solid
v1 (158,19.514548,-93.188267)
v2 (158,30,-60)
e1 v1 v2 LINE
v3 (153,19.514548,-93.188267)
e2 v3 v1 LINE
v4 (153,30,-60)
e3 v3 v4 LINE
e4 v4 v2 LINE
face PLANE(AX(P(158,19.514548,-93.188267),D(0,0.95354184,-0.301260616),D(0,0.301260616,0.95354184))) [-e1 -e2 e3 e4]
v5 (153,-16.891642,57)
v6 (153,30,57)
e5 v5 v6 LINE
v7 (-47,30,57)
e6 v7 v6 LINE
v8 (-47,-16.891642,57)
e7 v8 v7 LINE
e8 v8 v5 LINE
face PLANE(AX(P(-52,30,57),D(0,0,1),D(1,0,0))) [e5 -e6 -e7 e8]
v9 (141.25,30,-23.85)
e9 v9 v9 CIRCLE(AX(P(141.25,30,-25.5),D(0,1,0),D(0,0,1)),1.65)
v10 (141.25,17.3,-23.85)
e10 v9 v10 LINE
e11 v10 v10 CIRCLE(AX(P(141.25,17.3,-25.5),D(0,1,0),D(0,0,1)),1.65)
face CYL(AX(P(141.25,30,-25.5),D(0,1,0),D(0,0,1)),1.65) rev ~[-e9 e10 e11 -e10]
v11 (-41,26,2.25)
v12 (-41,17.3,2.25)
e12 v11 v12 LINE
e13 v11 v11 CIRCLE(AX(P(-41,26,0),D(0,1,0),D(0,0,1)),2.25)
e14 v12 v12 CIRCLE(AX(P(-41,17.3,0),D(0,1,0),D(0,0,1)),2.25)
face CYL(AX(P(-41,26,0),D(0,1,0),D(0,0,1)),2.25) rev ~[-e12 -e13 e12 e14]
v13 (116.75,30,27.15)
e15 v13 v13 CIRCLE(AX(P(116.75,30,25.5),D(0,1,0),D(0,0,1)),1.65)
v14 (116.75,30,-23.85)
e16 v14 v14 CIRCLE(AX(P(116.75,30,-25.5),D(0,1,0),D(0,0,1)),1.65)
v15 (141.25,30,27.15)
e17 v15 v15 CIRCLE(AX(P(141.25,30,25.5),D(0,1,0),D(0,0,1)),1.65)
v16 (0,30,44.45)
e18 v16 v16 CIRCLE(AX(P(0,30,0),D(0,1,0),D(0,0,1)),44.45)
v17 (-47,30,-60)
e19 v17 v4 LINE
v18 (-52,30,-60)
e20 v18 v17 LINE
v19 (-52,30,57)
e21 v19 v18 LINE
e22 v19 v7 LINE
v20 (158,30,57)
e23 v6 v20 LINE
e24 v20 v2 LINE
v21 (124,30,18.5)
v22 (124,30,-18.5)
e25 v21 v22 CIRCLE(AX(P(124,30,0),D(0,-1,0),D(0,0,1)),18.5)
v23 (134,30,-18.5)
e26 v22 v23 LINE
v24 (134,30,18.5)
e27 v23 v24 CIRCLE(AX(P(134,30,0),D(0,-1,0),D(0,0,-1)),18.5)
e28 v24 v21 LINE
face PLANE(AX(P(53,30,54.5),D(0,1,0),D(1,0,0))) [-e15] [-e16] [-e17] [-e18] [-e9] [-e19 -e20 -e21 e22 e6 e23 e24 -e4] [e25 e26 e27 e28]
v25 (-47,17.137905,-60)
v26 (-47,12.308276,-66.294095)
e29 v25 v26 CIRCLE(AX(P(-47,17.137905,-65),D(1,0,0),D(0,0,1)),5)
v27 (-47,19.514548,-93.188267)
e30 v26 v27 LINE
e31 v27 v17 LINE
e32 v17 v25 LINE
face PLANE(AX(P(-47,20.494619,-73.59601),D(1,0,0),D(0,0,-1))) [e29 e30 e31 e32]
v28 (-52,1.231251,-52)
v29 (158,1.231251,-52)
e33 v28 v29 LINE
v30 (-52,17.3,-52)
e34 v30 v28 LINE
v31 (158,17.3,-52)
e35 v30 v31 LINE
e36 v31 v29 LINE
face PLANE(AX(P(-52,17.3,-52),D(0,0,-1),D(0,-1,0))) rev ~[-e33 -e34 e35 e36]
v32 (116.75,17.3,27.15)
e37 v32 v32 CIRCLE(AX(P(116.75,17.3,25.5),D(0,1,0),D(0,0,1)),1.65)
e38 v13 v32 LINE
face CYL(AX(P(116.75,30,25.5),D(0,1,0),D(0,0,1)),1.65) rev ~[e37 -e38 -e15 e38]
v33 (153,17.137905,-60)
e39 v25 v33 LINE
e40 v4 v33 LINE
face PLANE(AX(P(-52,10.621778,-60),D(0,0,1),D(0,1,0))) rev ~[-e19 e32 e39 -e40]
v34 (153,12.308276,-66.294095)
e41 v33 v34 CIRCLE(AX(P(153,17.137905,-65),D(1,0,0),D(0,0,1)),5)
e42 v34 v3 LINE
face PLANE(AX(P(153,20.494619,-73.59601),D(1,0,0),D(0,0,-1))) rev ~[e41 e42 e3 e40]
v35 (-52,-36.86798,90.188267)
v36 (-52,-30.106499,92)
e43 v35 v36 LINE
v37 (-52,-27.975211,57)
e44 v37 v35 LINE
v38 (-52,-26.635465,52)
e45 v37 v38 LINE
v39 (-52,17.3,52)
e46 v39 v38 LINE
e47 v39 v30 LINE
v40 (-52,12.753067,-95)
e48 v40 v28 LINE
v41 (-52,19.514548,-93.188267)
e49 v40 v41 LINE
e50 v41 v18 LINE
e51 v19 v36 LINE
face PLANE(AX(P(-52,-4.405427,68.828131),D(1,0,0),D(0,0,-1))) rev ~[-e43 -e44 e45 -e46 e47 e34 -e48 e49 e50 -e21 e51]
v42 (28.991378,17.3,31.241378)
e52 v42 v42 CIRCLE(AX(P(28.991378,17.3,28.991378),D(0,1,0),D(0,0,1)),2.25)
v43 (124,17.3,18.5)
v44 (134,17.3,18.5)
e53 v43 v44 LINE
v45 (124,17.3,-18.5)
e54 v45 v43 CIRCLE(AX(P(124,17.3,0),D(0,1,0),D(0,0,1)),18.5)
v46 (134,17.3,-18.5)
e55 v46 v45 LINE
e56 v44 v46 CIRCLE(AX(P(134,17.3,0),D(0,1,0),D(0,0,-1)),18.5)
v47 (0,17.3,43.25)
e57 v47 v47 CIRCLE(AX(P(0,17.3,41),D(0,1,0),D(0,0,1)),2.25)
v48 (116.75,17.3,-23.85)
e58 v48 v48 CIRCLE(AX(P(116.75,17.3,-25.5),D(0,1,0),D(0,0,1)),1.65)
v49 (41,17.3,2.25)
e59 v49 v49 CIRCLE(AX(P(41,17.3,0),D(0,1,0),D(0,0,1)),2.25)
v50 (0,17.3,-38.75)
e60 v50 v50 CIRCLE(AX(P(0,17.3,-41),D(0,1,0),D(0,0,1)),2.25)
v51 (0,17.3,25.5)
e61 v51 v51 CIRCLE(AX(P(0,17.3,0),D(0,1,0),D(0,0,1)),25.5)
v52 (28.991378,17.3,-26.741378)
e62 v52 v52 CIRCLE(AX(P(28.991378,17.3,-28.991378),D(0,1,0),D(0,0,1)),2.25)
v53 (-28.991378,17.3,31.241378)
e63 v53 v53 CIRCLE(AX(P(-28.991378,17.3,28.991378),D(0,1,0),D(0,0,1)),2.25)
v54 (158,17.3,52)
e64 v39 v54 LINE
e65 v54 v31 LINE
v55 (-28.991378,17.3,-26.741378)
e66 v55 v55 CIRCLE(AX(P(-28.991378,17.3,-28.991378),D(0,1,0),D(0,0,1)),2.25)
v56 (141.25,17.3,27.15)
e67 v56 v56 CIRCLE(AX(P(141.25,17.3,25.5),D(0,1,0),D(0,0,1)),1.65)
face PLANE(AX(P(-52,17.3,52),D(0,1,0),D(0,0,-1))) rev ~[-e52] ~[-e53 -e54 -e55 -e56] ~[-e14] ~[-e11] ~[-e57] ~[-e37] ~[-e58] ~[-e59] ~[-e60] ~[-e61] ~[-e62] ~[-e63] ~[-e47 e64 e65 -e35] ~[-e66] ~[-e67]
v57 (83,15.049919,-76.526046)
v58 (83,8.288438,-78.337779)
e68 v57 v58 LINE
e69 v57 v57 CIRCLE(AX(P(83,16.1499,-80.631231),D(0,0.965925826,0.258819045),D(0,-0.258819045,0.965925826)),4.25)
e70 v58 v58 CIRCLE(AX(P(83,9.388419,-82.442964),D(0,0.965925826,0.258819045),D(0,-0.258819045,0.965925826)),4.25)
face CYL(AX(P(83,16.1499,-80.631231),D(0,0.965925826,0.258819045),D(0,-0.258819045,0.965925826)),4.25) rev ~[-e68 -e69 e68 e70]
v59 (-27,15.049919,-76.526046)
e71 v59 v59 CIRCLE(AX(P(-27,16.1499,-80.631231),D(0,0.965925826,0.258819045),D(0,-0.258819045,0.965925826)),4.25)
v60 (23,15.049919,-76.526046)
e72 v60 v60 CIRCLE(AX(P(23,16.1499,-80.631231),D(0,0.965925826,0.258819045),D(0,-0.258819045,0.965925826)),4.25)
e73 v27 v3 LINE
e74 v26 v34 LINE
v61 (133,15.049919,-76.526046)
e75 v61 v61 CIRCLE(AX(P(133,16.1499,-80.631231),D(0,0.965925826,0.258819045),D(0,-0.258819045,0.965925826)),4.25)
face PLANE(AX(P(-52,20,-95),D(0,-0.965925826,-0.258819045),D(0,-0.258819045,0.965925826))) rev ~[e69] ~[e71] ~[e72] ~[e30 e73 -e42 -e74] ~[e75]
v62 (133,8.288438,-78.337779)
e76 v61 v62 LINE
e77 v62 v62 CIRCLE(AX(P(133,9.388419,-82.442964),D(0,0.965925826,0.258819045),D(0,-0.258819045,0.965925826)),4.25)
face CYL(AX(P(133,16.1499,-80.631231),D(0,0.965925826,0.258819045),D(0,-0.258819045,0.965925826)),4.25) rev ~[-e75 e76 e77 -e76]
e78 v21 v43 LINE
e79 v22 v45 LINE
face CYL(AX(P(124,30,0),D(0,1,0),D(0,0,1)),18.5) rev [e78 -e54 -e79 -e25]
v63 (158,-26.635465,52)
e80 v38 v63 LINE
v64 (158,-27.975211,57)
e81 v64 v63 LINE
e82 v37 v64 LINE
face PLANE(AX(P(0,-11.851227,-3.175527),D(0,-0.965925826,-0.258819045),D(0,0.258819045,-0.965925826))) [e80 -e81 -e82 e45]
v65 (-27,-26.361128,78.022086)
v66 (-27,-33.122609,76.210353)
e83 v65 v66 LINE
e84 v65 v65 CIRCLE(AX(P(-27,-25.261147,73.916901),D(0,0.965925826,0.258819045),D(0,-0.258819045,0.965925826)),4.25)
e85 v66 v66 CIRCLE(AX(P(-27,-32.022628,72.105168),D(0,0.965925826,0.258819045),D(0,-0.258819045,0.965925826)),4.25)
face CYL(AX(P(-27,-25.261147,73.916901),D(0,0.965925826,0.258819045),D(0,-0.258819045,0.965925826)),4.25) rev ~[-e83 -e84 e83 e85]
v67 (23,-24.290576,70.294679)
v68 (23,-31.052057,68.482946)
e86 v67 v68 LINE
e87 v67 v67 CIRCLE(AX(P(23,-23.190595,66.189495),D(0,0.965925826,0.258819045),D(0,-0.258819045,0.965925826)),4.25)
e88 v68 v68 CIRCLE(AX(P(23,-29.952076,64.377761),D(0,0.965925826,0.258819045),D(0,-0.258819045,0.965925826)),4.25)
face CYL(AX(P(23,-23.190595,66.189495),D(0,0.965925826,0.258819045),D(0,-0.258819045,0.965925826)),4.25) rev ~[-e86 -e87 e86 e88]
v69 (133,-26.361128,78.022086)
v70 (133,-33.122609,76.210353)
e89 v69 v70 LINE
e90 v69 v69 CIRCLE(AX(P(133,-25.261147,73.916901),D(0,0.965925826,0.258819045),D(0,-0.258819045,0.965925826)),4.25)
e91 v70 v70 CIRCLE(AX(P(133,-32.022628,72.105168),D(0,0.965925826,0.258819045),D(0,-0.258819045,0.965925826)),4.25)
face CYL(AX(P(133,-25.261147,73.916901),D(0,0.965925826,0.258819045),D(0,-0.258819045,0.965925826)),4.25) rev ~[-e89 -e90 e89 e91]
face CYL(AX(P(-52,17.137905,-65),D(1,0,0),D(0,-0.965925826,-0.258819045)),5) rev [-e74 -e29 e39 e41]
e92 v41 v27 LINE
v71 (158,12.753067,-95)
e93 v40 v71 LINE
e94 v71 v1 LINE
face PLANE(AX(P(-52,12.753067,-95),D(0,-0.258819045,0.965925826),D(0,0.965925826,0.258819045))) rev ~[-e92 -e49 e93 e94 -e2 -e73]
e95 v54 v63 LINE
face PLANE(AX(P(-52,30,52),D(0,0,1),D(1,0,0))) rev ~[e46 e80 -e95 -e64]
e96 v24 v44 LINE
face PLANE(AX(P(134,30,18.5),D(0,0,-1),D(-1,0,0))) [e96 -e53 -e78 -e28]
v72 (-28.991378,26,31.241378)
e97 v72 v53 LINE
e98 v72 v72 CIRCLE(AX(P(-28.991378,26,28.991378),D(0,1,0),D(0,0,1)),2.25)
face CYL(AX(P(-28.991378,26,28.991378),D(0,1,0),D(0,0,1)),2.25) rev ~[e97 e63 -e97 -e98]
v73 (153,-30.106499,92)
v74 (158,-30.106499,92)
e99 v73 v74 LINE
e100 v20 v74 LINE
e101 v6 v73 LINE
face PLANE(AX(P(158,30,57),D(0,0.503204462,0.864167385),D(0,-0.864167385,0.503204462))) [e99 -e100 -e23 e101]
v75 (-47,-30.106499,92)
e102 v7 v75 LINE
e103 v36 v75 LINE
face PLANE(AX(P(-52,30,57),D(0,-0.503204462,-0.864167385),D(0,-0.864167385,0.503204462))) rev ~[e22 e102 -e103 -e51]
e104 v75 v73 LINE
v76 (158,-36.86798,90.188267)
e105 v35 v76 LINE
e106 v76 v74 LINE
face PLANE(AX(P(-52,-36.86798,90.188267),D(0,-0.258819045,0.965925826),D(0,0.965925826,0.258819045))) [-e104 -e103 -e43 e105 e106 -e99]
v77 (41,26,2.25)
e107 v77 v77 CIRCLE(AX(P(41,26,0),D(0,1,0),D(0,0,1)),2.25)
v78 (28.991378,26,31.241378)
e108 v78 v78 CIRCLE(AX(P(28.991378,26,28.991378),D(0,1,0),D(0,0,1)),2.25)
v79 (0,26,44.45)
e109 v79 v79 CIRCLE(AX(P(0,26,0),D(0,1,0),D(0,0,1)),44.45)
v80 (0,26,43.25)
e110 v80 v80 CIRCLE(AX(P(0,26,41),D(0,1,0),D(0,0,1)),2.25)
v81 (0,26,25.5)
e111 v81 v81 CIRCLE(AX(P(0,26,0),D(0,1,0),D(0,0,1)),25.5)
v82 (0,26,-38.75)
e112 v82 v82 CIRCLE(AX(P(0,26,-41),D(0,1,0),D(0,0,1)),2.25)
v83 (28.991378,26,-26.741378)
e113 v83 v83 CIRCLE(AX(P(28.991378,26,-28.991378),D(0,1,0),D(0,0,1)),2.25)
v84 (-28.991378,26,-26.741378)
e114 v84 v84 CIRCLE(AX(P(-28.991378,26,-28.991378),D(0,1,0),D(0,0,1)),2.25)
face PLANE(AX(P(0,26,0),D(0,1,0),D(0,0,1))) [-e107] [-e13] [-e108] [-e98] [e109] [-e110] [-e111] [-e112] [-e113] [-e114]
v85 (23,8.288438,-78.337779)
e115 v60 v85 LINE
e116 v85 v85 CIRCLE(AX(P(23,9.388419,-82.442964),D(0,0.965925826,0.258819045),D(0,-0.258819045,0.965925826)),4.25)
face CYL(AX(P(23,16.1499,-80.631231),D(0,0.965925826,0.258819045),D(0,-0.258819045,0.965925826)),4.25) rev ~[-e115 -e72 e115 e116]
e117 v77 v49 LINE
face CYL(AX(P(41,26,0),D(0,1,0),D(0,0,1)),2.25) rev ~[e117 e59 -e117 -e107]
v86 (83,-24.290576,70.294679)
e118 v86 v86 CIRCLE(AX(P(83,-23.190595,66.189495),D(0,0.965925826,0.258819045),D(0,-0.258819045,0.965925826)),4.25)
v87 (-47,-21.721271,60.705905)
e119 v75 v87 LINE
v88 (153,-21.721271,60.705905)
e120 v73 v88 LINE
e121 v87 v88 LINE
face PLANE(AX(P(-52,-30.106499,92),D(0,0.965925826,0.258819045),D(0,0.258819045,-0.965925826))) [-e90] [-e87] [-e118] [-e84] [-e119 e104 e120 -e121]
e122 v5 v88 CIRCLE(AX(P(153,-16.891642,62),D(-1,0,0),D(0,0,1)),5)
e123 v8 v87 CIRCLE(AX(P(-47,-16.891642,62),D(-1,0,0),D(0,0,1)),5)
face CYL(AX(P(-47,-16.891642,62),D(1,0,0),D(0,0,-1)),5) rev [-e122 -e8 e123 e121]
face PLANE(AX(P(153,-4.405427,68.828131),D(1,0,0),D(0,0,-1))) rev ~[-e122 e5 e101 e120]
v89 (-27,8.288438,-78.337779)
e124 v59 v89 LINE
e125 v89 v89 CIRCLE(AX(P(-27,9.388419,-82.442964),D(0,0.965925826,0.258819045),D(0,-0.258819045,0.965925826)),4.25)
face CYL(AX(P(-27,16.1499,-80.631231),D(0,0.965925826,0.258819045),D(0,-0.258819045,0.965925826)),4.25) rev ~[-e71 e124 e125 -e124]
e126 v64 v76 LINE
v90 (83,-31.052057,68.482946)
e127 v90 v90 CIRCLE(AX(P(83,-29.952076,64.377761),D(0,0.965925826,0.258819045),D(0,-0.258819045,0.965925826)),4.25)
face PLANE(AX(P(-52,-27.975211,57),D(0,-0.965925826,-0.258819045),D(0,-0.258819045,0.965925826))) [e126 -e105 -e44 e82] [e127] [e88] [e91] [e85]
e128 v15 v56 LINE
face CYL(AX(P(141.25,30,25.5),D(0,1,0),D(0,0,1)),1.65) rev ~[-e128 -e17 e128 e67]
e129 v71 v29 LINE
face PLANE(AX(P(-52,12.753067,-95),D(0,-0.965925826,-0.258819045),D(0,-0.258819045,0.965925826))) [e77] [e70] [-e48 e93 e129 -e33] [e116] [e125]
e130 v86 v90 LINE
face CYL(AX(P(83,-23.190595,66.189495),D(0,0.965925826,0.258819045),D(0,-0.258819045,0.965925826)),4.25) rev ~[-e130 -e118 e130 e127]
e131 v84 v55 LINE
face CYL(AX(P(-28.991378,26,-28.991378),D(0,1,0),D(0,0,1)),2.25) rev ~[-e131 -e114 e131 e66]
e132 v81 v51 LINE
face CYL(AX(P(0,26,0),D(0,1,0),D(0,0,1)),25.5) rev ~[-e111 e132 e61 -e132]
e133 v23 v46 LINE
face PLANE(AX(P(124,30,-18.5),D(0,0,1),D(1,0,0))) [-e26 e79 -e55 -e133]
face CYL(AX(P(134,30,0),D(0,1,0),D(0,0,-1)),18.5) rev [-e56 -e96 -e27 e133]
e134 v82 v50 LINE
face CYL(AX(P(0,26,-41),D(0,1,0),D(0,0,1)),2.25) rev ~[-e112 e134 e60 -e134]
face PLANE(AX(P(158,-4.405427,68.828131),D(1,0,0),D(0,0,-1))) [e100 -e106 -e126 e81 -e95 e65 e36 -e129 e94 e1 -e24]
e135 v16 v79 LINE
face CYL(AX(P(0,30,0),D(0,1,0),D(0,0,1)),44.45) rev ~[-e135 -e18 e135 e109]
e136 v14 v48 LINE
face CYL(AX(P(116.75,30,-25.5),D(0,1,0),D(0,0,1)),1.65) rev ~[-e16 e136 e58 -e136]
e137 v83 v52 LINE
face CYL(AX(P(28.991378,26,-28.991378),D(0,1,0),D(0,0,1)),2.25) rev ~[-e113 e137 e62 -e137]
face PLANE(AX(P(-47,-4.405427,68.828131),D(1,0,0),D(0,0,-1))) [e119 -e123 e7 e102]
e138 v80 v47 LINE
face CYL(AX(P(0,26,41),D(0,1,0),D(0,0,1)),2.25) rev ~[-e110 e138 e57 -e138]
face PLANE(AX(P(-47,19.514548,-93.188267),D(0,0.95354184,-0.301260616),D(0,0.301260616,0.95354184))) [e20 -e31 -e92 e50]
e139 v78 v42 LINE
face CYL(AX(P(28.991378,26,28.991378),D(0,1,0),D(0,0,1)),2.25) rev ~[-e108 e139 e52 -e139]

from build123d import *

# Parameters (mm, degrees)
EXTRUDE_1_DEPTH      = 30
SKETCH_2_R           = 44.45
CUT_EXTRUDE_1_DEPTH  = 4
SKETCH_3_R           = 25.5
SKETCH_3_R_2         = 2.25
CUT_EXTRUDE_2_DEPTH  = 188.619295383
CUT_EXTRUDE_3_DEPTH  = 189.215302247
SKETCH_5_R           = 1.65
CUT_EXTRUDE_4_DEPTH  = 189.215302247
EXTRUDE_START        = -30
EXTRUDE_2_DEPTH      = 30
CUT_EXTRUDE_5_DEPTH  = 198.040604952
CUT_EXTRUDE_7_DEPTH  = 233.432785983
CUT_EXTRUDE_8_DEPTH  = 233.432785983
CUT_EXTRUDE_9_DEPTH  = 233.432785983
FILLET_1_R           = 5
CUT_EXTRUDE_10_DEPTH = 233.432785983
EXTRUDE_START_2      = -5
EXTRUDE_3_DEPTH      = 5
EXTRUDE_4_DEPTH      = 5
SKETCH_14_R          = 4.25
CUT_EXTRUDE_11_DEPTH = 189.364728478
SKETCH_16_W          = 43
SKETCH_16_H          = 30
CUT_EXTRUDE_12_DEPTH = 233.432785983
EXTRUDE_7_REACH      = 188.592
SKETCH_18_W          = 210
SKETCH_18_H          = 5
EXTRUDE_8_DEPTH      = 210
EXTRUDE_9_DEPTH      = 5
EXTRUDE_10_DEPTH     = 5
SKETCH_22_R          = 4.25
CUT_EXTRUDE_13_DEPTH = 187.984035343
FILLET_2_R           = 5


with BuildPart() as part:
    # 草图1 → 凸台-拉伸1 (new body)
    with BuildSketch(Plane(origin=(0, 0, 0), x_dir=(1, 0, 0), z_dir=(0, 1, 0))):
        with BuildLine():
            Line((170, 31.93), (170, -31.93))
            ThreePointArc((170, -31.93), (167.781993847, -38.210172909), (162.111885646, -41.704453387))
            Line((162.111885646, -41.704453387), (15.839142344, -73.308400404))
            ThreePointArc((15.839142344, -73.308400404), (-75, 0), (15.839142344, 73.308400404))
            Line((15.839142344, 73.308400404), (162.111885646, 41.704453387))
            ThreePointArc((162.111885646, 41.704453387), (167.781993847, 38.210172909), (170, 31.93))
        make_face()
    extrude(amount=EXTRUDE_1_DEPTH)

    # 草图2 → 切除-拉伸1 (cut)
    with BuildSketch(Plane(origin=(0, 30, 0), x_dir=(1, 0, 0), z_dir=(0, 1, 0))):
        with Locations(Location((0, 0, 0), (0, 0, 270))):
            Circle(SKETCH_2_R)
    extrude(amount=-CUT_EXTRUDE_1_DEPTH, mode=Mode.SUBTRACT)

    # 草图3 → 切除-拉伸2 (cut, through all)
    with BuildSketch(Plane(origin=(0, 26, 0), x_dir=(1, 0, 0), z_dir=(0, 1, 0))):
        with Locations(Location((0, 0, 0), (0, 0, 270))):
            Circle(SKETCH_3_R)
        with Locations(Location((0, 41, 0), (0, 0, 270))):
            Circle(SKETCH_3_R_2)
        with Locations(Location((28.991378029, 28.991378029, 0), (0, 0, 270))):
            Circle(SKETCH_3_R_2)
        with Locations(Location((41, 0, 0), (0, 0, 270))):
            Circle(SKETCH_3_R_2)
        with Locations(Location((28.991378029, -28.991378029, 0), (0, 0, 270))):
            Circle(SKETCH_3_R_2)
        with Locations(Location((0, -41, 0), (0, 0, 270))):
            Circle(SKETCH_3_R_2)
        with Locations(Location((-28.991378029, -28.991378029, 0), (0, 0, 270))):
            Circle(SKETCH_3_R_2)
        with Locations(Location((-41, 0, 0), (0, 0, 270))):
            Circle(SKETCH_3_R_2)
        with Locations(Location((-28.991378029, 28.991378029, 0), (0, 0, 270))):
            Circle(SKETCH_3_R_2)
    extrude(amount=-CUT_EXTRUDE_2_DEPTH, mode=Mode.SUBTRACT)

    # 草图4 → 切除-拉伸3 (cut, through all)
    with BuildSketch(Plane(origin=(0, 30, 0), x_dir=(1, 0, 0), z_dir=(0, 1, 0))):
        with BuildLine():
            Line((124, 18.5), (134, 18.5))
            ThreePointArc((134, 18.5), (152.5, 0), (134, -18.5))
            Line((134, -18.5), (124, -18.5))
            ThreePointArc((124, -18.5), (105.5, 0), (124, 18.5))
        make_face()
    extrude(amount=-CUT_EXTRUDE_3_DEPTH, mode=Mode.SUBTRACT)

    # 草图5 → 切除-拉伸4 (cut, through all)
    with BuildSketch(Plane(origin=(0, 30, 0), x_dir=(1, 0, 0), z_dir=(0, 1, 0))):
        with Locations(Location((116.75, 25.5, 0), (0, 0, 270))):
            Circle(SKETCH_5_R)
        with Locations(Location((141.25, 25.5, 0), (0, 0, 270))):
            Circle(SKETCH_5_R)
        with Locations(Location((141.25, -25.5, 0), (0, 0, 270))):
            Circle(SKETCH_5_R)
        with Locations(Location((116.75, -25.5, 0), (0, 0, 270))):
            Circle(SKETCH_5_R)
    extrude(amount=-CUT_EXTRUDE_4_DEPTH, mode=Mode.SUBTRACT)

    # 草图6 → 凸台-拉伸2 (add)
    with BuildSketch(Plane(origin=(0, 30, 0), x_dir=(1, 0, 0), z_dir=(0, 1, 0)).offset(EXTRUDE_START)):
        with BuildLine():
            Line((158, 95), (-52, 95))
            Line((-52, 95), (-52, 54.046276467))
            ThreePointArc((-52, 54.046276467), (-20.48558667, 72.148047366), (15.839142344, 73.308400404))
            Line((15.839142344, 73.308400404), (158, 42.592874655))
            Line((158, 42.592874655), (158, 95))
        make_face()
        with BuildLine():
            ThreePointArc((15.839142344, -73.308400404), (-20.48558667, -72.148047366), (-52, -54.046276467))
            Line((-52, -54.046276467), (-52, -95))
            Line((-52, -95), (158, -95))
            Line((158, -95), (158, -42.592874655))
            Line((158, -42.592874655), (15.839142344, -73.308400404))
        make_face()
    extrude(amount=EXTRUDE_2_DEPTH)

    # 草图7 → 切除-拉伸5 (cut, through all)
    with BuildSketch(Plane(origin=(0, 30, 0), x_dir=(1, 0, 0), z_dir=(0, 1, 0))):
        with BuildLine():
            Line((-52, 54.046276467), (-52, -54.046276467))
            ThreePointArc((-52, -54.046276467), (-75, 0), (-52, 54.046276467))
        make_face()
        with BuildLine():
            Line((158, 42.592874655), (158, -42.592874655))
            Line((158, -42.592874655), (162.111885646, -41.704453387))
            ThreePointArc((162.111885646, -41.704453387), (167.781993847, -38.210172909), (170, -31.93))
            Line((170, -31.93), (170, 31.93))
            ThreePointArc((170, 31.93), (167.781993847, 38.210172909), (162.111885646, 41.704453387))
            Line((162.111885646, 41.704453387), (158, 42.592874655))
        make_face()
    extrude(amount=-CUT_EXTRUDE_5_DEPTH, mode=Mode.SUBTRACT)

    # 草图9 → 切除-拉伸7 (cut, through all)
    with BuildSketch(Plane.ZY.offset(52)):
        Polygon((-95, 20), (-60, 10.621778265), (-60, 30), (-95, 30), align=None)
    extrude(amount=-CUT_EXTRUDE_7_DEPTH, mode=Mode.SUBTRACT)

    # 草图10 → 切除-拉伸8 (cut, through all)
    with BuildSketch(Plane.ZY.offset(52)):
        Polygon((-95, 12.753066737), (-52, 1.231251463), (-52, 0), (-95, 0), align=None)
    extrude(amount=-CUT_EXTRUDE_8_DEPTH, mode=Mode.SUBTRACT)

    # 草图8 → 切除-拉伸9 (cut, through all)
    with BuildSketch(Plane.ZY.offset(52)):
        Polygon((0, 0), (52, 0), (52, 17.3), (-52, 17.3), (-52, 0), align=None)
    extrude(amount=-CUT_EXTRUDE_9_DEPTH, mode=Mode.SUBTRACT)

    # 圆角1
    fillet_1_edges = [part.edges().sort_by_distance(p)[0] for p in [
        (53, 10.621778265, -60),
    ]]
    fillet(fillet_1_edges, radius=FILLET_1_R)

    # 草图11 → 切除-拉伸10 (cut, through all)
    with BuildSketch(Plane.ZY.offset(52)):
        Polygon((-95, 12.753066737), (-93.188266684, 19.514547521), (-95, 20), align=None)
    extrude(amount=-CUT_EXTRUDE_10_DEPTH, mode=Mode.SUBTRACT)

    # 草图12 → 凸台-拉伸3 (add)
    with BuildSketch(Plane.ZY.offset(52).offset(EXTRUDE_START_2)):
        with BuildLine():
            Line((-93.188266684, 19.514547521), (-60, 30))
            Line((-60, 30), (-60, 17.137905129))
            ThreePointArc((-60, 17.137905129), (-61.956192855, 13.171138428), (-66.294095226, 12.308275998))
            Line((-66.294095226, 12.308275998), (-93.188266684, 19.514547521))
        make_face()
    extrude(amount=EXTRUDE_3_DEPTH)

    # 草图13 → 凸台-拉伸4 (add)
    with BuildSketch(Plane(origin=(158, 0, 0), x_dir=(0, 0, -1), z_dir=(1, 0, 0))):
        with BuildLine():
            Line((66.294095226, 12.308275998), (93.188266684, 19.514547521))
            Line((93.188266684, 19.514547521), (60, 30))
            Line((60, 30), (60, 17.137905129))
            ThreePointArc((60, 17.137905129), (61.956192855, 13.171138428), (66.294095226, 12.308275998))
        make_face()
    extrude(amount=-EXTRUDE_4_DEPTH)

    # 草图14 → 切除-拉伸11 (cut, through all)
    with BuildSketch(Plane(origin=(0, -5.089745962, -1.36379332), x_dir=(1, 0, 0), z_dir=(0, 0.9659258262890681, 0.2588190451025214))):
        with Locations(Location((-27, 82.063690052, 0), (0, 0, 270))):
            Circle(SKETCH_14_R)
        with Locations(Location((23, 82.063690052, 0), (0, 0, 270))):
            Circle(SKETCH_14_R)
        with Locations(Location((83, 82.063690052, 0), (0, 0, 270))):
            Circle(SKETCH_14_R)
        with Locations(Location((133, 82.063690052, 0), (0, 0, 270))):
            Circle(SKETCH_14_R)
    extrude(amount=-CUT_EXTRUDE_11_DEPTH, mode=Mode.SUBTRACT)

    # 草图16 → 切除-拉伸12 (cut, through all)
    with BuildSketch(Plane.ZY.offset(52)):
        with Locations((73.5, 15)):
            Rectangle(SKETCH_16_W, SKETCH_16_H)
    extrude(amount=-CUT_EXTRUDE_12_DEPTH, mode=Mode.SUBTRACT)

    # 凸台-拉伸7: up to this plane
    extrude_7_end = Plane(origin=(0, -11.851226746, -3.175526636), z_dir=(0, -0.9659258262890681, -0.25881904510252146))
    # 草图18 → 凸台-拉伸7 (add, up to the surface)
    with BuildSketch(Plane(origin=(0, 30, 0), x_dir=(1, 0, 0), z_dir=(0, 1, 0)), mode=Mode.PRIVATE) as extrude_7_sk1:
        with Locations((53, -54.5)):
            Rectangle(SKETCH_18_W, SKETCH_18_H)
    extrude_7_tool1 = split(extrude(extrude_7_sk1.sketch, amount=-EXTRUDE_7_REACH, mode=Mode.PRIVATE), bisect_by=extrude_7_end, keep=Keep.BOTH, mode=Mode.PRIVATE)
    add(extrude_7_tool1.solids().sort_by_distance((53, 30, 54.5))[0])

    # 草图19 → 凸台-拉伸8 (add)
    with BuildSketch(Plane.ZY.offset(52)):
        Polygon((57, -27.975210512), (90.188266684, -36.867979769), (92, -30.106498985), (57, -20.72827725), align=None)
    extrude(amount=-EXTRUDE_8_DEPTH)

    # 草图20 → 凸台-拉伸9 (add)
    with BuildSketch(Plane.ZY.offset(52)):
        Polygon((92, -30.106498985), (57, -20.72827725), (57, 30), align=None)
    extrude(amount=-EXTRUDE_9_DEPTH)

    # 草图21 → 凸台-拉伸10 (add)
    with BuildSketch(Plane(origin=(158, 0, 0), x_dir=(0, 0, -1), z_dir=(1, 0, 0))):
        Polygon((-57, 30), (-92, -30.106498985), (-57, -20.72827725), align=None)
    extrude(amount=-EXTRUDE_10_DEPTH)

    # 草图22 → 切除-拉伸13 (cut, through all)
    with BuildSketch(Plane(origin=(0, -5.089745962, -1.36379332), x_dir=(1, 0, 0), z_dir=(0, 0.9659258262890686, 0.25881904510251946))):
        with Locations(Location((-27, -77.936309948, 0), (0, 0, 270))):
            Circle(SKETCH_22_R)
        with Locations(Location((23, -69.936309948, 0), (0, 0, 270))):
            Circle(SKETCH_22_R)
        with Locations(Location((83, -69.936309948, 0), (0, 0, 270))):
            Circle(SKETCH_22_R)
        with Locations(Location((133, -77.936309948, 0), (0, 0, 270))):
            Circle(SKETCH_22_R)
    extrude(amount=-CUT_EXTRUDE_13_DEPTH, mode=Mode.SUBTRACT)

    # 圆角2
    fillet_2_edges = [part.edges().sort_by_distance(p)[0] for p in [
        (53, -20.72827725, 57),
    ]]
    fillet(fillet_2_edges, radius=FILLET_2_R)


solid = part.part
